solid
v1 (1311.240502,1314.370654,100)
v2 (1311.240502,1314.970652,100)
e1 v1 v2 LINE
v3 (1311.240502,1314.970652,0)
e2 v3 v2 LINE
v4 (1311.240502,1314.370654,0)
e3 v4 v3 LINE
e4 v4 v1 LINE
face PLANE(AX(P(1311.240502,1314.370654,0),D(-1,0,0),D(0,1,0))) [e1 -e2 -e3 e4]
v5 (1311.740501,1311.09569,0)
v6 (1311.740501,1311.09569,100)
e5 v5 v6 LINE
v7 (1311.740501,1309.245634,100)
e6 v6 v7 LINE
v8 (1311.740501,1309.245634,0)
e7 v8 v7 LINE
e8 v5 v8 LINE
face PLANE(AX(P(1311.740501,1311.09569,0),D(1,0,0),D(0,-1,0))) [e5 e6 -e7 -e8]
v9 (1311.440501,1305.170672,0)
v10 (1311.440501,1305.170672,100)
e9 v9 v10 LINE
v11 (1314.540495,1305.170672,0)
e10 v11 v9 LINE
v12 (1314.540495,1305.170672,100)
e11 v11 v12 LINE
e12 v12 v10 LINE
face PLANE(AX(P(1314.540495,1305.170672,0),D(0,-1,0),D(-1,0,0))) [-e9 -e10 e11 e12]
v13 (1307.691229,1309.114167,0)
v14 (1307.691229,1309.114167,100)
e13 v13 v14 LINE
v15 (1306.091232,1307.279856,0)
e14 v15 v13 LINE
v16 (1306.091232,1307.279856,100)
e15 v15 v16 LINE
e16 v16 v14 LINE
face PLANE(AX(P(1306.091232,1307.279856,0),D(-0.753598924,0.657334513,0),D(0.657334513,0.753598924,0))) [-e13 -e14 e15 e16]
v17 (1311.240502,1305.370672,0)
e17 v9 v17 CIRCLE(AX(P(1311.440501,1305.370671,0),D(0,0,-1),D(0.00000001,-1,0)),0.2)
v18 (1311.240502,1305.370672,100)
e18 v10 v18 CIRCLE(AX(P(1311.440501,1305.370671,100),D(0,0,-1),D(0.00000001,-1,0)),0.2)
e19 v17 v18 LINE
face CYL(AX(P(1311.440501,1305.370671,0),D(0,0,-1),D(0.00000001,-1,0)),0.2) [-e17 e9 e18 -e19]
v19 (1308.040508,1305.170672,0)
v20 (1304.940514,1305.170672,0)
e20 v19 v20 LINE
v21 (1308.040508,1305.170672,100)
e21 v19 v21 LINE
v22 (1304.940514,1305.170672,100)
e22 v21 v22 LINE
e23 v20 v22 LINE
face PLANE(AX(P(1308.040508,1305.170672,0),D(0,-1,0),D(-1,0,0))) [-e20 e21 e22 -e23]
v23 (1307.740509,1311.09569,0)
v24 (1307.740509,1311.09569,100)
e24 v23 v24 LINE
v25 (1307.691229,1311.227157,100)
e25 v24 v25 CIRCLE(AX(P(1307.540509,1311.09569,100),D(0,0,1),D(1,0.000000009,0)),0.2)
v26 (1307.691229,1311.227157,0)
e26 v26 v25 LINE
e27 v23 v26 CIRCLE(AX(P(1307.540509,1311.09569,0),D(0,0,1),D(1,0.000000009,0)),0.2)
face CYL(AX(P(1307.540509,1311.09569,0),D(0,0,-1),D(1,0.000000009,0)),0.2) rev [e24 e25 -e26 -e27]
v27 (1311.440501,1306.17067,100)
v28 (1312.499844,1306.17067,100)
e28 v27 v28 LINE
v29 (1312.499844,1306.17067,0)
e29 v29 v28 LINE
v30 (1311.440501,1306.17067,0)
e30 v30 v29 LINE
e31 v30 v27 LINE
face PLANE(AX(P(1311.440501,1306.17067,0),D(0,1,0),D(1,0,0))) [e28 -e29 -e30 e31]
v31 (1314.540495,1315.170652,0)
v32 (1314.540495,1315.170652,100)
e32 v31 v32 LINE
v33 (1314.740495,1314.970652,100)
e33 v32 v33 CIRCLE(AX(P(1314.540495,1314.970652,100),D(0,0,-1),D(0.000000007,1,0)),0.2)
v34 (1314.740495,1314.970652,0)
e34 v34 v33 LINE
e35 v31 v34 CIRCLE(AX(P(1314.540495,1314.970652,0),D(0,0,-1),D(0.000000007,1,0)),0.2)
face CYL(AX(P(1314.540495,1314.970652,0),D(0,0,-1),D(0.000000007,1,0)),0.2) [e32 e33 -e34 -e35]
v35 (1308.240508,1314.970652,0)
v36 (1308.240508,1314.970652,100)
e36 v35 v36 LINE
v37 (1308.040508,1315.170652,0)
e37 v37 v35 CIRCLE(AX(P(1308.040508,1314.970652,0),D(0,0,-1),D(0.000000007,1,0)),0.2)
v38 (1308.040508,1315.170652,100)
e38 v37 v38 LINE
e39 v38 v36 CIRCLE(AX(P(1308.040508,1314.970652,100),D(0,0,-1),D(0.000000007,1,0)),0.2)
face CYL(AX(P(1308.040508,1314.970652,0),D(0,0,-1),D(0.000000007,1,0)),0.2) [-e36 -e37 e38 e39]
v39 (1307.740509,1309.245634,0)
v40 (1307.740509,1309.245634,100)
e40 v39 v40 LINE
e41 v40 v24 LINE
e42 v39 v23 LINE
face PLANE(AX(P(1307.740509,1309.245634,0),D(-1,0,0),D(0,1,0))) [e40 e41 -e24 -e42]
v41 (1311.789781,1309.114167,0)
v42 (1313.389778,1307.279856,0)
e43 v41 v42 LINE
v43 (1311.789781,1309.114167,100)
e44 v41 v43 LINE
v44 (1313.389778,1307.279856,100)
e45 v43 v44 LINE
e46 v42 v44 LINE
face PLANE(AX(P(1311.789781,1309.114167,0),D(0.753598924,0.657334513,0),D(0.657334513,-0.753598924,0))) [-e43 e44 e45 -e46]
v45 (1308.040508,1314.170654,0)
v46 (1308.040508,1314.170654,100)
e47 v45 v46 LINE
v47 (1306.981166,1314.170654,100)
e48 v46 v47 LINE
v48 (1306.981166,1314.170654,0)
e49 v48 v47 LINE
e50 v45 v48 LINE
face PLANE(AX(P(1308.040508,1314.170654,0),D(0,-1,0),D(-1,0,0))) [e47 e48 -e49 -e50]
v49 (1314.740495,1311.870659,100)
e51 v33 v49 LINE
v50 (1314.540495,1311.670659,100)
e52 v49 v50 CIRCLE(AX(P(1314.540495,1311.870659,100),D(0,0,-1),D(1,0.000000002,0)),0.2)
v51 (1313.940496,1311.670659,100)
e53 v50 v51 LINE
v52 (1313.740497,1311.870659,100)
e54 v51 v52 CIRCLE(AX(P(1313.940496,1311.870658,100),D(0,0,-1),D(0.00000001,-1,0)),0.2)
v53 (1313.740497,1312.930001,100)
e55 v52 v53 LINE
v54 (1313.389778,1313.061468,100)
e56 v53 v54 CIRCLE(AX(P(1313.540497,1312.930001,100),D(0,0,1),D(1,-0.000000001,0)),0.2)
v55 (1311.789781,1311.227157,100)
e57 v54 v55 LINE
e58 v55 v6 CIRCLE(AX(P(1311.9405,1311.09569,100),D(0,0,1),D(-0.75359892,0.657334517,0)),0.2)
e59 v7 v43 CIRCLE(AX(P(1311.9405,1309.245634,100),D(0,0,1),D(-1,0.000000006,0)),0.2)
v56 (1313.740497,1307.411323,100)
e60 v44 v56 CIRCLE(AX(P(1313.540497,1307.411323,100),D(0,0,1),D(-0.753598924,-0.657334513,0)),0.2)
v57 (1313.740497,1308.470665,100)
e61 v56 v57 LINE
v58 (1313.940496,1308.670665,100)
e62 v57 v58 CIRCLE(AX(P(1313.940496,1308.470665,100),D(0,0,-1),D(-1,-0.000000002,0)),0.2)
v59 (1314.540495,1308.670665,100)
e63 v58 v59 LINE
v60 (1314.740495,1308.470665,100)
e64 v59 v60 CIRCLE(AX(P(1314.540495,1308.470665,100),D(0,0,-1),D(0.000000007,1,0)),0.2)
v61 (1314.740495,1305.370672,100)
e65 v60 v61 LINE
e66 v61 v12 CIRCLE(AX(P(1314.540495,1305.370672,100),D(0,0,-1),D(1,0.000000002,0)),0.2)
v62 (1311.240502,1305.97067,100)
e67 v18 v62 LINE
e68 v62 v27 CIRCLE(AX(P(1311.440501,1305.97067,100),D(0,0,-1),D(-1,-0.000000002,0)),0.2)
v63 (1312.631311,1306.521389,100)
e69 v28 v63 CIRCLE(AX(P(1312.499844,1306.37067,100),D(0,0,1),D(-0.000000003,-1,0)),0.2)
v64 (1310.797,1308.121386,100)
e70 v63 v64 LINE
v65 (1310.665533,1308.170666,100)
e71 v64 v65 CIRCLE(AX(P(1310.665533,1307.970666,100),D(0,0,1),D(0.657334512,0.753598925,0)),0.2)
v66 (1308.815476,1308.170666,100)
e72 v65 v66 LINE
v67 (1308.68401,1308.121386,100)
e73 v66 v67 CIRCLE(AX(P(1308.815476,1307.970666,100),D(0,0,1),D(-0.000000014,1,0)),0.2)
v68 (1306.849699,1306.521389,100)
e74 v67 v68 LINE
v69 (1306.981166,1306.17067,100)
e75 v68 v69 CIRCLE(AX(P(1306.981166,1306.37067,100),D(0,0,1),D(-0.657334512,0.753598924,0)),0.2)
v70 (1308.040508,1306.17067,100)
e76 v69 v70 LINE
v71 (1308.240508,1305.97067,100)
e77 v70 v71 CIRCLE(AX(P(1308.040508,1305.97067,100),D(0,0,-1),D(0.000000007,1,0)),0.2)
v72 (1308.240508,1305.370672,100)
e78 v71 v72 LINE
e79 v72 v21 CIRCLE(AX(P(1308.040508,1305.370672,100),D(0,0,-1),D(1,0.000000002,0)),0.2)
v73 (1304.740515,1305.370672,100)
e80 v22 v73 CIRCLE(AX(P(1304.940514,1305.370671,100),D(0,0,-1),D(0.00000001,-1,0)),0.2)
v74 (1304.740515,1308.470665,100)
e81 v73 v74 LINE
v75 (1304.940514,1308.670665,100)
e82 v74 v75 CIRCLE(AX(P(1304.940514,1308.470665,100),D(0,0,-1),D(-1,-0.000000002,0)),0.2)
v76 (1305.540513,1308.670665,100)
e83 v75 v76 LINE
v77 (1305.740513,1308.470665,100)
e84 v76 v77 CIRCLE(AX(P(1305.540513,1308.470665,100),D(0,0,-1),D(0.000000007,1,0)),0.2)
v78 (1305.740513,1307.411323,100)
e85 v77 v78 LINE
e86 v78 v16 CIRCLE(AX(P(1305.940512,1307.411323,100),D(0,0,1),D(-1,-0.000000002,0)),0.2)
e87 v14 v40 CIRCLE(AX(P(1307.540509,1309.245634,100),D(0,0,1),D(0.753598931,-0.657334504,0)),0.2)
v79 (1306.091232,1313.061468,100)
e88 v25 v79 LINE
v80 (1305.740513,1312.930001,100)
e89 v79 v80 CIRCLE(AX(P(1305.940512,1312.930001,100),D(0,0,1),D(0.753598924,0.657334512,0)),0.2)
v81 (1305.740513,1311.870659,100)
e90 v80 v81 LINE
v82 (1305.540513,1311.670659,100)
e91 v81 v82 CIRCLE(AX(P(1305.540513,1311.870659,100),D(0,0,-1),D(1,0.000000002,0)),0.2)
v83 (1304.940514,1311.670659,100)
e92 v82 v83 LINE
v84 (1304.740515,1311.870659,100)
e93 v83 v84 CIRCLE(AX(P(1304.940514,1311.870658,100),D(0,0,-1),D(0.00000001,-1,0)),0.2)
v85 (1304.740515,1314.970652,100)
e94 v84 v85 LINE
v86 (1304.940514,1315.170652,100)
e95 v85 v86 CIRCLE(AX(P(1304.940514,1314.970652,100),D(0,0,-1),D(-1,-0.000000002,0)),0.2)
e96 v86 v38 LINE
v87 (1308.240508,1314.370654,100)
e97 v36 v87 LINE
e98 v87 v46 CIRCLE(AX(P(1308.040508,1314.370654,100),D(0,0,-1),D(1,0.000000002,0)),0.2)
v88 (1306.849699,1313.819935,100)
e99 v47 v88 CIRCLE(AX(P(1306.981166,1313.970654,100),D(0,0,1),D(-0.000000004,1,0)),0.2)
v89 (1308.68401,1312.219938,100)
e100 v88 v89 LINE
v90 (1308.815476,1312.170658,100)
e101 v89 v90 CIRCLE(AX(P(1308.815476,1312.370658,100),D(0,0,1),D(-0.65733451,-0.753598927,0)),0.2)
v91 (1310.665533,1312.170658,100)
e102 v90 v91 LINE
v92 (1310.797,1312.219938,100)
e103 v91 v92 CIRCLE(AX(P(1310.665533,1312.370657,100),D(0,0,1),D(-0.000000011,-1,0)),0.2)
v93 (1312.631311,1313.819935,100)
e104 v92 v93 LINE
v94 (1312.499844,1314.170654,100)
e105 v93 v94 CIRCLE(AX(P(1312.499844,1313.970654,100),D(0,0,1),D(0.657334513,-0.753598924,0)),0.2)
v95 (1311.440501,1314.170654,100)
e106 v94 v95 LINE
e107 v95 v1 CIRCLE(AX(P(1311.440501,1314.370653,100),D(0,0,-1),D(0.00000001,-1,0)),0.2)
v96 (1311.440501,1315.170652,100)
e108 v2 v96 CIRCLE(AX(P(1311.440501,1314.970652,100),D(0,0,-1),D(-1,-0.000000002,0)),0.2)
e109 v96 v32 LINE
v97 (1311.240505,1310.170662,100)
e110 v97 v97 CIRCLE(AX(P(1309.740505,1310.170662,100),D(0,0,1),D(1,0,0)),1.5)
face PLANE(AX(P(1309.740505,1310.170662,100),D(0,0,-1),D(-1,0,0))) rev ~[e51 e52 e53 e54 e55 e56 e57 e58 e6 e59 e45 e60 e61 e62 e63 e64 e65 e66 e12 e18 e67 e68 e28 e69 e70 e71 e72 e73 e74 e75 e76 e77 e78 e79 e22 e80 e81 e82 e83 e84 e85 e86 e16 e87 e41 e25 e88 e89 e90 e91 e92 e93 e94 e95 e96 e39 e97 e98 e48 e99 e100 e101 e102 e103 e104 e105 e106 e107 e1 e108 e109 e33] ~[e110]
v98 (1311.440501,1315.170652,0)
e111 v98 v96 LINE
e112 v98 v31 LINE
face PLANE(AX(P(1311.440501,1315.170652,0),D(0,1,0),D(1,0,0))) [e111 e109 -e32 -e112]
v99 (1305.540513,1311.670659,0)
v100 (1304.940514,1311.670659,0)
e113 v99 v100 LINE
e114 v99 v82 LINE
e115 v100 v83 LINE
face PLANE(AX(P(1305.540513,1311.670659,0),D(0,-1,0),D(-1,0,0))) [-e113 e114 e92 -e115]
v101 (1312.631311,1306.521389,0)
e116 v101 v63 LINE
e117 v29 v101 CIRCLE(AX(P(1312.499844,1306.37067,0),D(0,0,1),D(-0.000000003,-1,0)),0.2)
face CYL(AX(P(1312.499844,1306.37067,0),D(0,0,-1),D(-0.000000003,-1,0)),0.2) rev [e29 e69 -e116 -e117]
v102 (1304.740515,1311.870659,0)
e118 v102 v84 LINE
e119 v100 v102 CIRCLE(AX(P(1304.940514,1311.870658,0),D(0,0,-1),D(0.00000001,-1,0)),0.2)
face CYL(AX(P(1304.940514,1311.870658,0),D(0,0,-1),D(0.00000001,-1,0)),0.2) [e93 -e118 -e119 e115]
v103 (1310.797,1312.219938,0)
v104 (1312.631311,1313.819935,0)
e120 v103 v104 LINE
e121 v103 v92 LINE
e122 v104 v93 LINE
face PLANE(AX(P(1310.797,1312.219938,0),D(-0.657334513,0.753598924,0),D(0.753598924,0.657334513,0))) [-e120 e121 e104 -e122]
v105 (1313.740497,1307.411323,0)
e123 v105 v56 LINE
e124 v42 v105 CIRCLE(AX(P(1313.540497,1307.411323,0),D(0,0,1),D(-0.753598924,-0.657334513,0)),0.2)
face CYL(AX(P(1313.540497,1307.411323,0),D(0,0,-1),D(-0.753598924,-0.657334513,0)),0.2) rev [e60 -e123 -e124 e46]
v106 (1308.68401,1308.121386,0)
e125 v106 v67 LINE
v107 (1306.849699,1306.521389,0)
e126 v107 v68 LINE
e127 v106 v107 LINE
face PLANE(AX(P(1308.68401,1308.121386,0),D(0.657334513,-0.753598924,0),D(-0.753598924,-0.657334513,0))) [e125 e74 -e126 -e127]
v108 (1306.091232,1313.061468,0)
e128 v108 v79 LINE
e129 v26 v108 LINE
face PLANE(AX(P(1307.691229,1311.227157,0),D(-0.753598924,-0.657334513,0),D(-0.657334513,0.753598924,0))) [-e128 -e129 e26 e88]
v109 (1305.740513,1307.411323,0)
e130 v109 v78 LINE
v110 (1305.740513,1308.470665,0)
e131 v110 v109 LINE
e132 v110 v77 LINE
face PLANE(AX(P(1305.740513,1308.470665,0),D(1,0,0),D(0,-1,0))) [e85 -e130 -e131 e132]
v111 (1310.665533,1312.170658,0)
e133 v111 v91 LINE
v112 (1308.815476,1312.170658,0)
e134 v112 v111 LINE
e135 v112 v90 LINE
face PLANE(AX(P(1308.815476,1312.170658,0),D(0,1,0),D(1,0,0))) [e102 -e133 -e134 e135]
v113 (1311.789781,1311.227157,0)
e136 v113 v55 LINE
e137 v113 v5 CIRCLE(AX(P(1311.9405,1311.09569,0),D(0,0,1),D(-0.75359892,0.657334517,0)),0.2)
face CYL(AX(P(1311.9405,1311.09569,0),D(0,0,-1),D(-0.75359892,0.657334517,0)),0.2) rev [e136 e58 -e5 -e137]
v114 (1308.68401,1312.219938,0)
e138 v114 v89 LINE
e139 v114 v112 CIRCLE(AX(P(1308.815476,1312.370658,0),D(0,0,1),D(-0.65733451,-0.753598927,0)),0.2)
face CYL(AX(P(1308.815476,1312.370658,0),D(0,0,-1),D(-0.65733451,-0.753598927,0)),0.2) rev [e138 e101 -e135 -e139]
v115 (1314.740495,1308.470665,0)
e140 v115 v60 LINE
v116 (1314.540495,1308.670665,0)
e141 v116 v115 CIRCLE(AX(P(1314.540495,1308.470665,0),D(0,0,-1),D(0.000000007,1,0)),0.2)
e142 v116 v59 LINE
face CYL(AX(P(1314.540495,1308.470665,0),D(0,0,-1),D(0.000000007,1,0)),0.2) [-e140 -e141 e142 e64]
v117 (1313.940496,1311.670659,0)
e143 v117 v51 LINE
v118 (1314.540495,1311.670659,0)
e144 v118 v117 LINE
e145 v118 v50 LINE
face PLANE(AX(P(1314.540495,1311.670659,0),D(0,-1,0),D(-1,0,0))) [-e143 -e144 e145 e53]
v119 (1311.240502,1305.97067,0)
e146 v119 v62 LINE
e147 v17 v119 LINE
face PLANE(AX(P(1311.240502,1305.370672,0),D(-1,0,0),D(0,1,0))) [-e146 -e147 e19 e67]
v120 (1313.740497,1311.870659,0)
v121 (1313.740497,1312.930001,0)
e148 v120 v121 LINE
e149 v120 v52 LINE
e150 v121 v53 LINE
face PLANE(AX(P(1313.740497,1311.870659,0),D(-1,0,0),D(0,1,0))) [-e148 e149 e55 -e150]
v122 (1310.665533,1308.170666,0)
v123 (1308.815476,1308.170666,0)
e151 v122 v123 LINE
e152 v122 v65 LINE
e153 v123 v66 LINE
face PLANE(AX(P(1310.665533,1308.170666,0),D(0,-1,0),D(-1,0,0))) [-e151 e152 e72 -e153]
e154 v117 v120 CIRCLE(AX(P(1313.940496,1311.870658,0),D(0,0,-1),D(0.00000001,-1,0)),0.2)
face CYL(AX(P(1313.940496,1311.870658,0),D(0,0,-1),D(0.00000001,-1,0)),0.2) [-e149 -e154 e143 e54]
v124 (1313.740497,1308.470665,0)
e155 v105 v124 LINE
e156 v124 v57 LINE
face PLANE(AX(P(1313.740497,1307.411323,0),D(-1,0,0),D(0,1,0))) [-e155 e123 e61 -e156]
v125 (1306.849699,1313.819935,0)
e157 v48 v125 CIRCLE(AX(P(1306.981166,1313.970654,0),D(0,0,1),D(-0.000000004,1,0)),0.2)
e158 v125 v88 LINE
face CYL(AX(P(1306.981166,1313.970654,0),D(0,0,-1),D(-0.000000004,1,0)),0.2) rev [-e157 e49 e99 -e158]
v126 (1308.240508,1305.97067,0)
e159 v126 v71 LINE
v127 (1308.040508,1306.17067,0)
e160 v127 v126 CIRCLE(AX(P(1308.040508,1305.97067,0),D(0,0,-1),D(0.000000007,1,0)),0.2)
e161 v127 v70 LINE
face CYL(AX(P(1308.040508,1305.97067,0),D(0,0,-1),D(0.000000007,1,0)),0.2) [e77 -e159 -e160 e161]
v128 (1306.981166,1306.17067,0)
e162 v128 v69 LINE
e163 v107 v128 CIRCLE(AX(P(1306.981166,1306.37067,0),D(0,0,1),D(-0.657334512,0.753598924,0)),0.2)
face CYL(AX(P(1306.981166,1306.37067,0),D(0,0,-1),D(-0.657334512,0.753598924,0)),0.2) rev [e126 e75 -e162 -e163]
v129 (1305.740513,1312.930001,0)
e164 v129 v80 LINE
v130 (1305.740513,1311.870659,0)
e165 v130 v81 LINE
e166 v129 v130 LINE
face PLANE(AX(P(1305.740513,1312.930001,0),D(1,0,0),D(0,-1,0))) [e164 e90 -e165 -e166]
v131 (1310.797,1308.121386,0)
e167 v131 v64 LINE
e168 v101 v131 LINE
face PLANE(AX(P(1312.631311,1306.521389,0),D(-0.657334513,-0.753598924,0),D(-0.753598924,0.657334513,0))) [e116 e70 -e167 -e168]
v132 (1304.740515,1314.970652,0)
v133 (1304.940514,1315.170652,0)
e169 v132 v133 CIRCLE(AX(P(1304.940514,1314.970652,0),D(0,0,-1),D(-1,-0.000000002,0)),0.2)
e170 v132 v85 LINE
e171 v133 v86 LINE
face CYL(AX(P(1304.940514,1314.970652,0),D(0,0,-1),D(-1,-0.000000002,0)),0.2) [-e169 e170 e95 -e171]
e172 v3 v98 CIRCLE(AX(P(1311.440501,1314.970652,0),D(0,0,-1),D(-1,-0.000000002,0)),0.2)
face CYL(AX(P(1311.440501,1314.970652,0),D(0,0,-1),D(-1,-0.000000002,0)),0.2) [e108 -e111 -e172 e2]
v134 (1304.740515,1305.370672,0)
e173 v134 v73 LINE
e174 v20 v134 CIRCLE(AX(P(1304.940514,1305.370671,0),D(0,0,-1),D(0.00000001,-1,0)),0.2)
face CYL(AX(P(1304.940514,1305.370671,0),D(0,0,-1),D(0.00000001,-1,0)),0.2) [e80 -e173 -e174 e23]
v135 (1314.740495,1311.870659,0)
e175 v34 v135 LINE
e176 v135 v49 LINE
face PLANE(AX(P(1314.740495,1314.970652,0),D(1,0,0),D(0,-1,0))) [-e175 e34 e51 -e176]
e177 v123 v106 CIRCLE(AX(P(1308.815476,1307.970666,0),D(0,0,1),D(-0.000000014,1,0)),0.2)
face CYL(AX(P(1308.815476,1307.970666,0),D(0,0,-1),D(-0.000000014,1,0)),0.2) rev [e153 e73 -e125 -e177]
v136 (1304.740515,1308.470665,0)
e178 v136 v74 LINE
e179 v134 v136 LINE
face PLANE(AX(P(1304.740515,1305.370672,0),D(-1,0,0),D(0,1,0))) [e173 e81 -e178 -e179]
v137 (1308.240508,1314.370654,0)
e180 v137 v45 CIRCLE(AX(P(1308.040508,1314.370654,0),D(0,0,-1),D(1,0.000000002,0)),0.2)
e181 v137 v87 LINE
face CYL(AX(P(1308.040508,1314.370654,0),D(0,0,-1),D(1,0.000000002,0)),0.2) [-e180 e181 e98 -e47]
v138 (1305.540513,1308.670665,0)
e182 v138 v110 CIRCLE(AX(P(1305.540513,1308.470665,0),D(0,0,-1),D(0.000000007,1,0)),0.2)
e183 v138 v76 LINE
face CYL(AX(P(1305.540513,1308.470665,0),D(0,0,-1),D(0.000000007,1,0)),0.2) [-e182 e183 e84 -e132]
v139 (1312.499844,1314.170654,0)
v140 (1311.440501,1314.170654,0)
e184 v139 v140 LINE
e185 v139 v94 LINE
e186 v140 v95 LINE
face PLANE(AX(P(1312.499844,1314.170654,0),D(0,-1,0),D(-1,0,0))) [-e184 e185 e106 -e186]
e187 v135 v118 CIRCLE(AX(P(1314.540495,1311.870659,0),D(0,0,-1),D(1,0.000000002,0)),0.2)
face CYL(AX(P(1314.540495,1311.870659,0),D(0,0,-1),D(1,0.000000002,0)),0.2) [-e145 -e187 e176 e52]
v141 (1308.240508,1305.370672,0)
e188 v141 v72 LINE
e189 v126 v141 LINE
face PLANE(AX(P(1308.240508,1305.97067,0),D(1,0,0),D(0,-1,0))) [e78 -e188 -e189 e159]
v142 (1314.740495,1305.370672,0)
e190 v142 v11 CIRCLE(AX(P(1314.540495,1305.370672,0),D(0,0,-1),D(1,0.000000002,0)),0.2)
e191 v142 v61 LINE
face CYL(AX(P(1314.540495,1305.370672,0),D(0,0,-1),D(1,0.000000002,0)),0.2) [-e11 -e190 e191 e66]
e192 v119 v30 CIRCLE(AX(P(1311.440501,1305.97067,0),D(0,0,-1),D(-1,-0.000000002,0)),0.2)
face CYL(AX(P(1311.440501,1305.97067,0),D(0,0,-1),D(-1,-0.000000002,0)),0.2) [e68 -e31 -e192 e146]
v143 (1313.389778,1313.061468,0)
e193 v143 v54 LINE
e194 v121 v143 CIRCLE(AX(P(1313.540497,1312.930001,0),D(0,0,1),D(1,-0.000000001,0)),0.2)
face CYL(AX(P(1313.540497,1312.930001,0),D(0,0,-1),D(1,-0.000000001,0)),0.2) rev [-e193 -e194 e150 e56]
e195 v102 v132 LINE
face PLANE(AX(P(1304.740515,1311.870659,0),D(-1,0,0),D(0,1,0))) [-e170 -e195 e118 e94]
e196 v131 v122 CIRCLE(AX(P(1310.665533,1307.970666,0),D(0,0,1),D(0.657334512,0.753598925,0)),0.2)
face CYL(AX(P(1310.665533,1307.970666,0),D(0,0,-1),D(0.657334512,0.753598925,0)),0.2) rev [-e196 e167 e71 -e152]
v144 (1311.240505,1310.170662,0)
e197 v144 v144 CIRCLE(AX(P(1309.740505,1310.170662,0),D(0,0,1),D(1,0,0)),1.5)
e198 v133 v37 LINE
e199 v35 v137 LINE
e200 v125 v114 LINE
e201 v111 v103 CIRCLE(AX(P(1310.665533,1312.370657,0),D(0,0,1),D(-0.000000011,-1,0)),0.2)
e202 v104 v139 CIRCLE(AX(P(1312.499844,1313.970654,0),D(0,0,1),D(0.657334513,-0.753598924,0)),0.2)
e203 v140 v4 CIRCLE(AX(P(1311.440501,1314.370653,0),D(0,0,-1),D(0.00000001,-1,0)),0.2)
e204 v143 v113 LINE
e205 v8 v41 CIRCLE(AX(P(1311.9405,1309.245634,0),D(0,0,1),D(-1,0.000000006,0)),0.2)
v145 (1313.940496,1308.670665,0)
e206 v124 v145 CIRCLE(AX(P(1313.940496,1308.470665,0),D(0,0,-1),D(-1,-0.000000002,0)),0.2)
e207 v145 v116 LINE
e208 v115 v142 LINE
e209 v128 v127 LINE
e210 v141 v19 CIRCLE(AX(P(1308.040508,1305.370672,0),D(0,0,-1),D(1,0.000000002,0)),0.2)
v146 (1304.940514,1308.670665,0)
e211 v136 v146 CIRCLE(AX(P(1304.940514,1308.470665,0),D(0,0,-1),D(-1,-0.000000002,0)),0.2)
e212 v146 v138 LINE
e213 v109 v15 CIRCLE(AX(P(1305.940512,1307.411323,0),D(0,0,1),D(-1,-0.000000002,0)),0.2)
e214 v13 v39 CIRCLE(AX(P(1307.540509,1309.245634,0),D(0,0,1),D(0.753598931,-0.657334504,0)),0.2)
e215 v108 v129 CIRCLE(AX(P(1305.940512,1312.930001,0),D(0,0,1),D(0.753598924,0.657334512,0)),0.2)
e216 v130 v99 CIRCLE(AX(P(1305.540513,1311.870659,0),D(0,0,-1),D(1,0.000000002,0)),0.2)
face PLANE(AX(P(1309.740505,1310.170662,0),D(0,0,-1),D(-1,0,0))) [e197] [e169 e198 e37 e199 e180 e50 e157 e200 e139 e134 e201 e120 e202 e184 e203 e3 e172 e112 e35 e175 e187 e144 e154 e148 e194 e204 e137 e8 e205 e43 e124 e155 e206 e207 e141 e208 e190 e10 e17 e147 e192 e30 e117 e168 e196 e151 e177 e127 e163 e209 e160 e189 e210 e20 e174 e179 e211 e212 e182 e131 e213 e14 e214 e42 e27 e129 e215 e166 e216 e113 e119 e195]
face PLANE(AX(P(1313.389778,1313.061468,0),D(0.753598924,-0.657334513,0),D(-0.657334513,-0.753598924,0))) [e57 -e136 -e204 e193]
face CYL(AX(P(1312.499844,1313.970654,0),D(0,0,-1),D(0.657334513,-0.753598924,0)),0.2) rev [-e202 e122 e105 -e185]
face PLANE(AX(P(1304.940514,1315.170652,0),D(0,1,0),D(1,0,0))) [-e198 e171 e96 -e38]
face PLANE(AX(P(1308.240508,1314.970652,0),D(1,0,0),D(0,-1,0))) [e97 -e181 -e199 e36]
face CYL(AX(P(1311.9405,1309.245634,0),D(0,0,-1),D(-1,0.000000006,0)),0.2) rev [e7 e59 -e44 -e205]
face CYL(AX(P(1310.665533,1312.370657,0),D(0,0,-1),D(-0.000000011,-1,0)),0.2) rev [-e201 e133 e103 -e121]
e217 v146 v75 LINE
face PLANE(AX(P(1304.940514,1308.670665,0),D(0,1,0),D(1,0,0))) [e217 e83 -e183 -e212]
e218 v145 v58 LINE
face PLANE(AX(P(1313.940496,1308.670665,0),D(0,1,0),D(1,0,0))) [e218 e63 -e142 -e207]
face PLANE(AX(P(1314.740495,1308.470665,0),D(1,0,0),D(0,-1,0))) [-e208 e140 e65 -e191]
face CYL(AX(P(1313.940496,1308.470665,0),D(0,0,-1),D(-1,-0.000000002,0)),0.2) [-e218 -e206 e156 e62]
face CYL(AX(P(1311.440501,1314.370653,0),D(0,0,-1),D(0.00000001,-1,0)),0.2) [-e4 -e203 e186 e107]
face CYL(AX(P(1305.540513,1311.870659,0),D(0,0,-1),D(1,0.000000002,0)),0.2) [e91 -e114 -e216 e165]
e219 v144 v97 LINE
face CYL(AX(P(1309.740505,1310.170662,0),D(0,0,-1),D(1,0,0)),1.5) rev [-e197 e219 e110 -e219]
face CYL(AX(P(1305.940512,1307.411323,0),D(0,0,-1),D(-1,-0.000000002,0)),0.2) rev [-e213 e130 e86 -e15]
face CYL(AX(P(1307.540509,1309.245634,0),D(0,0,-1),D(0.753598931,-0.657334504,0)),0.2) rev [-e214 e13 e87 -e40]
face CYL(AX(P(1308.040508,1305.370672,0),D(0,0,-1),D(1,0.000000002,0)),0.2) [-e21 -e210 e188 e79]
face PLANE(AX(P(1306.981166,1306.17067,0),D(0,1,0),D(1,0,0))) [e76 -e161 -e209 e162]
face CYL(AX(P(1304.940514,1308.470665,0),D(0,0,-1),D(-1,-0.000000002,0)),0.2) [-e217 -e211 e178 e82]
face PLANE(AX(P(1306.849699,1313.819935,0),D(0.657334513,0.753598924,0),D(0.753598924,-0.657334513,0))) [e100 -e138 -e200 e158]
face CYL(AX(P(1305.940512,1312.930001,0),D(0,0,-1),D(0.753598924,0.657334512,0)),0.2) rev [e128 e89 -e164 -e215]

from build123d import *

# Parameters (mm, degrees)
MODEL_R             = 1.5
BOSS_EXTRUDE1_DEPTH = 100


with BuildPart() as part:
    # Model → Boss-Extrude1 (new body)
    with BuildSketch(Plane.XY):
        with BuildLine():
            Line((1314.74049485, 1308.470665301), (1314.74049485, 1305.370671501))
            ThreePointArc((1314.74049485, 1305.370671501), (1314.681916323, 1305.229250427), (1314.54049525, 1305.170671901))
            Line((1314.54049525, 1305.170671901), (1311.44050145, 1305.170671901))
            ThreePointArc((1311.44050145, 1305.170671901), (1311.299080376, 1305.229250427), (1311.24050185, 1305.370671501))
            Line((1311.24050185, 1305.370671501), (1311.24050185, 1305.970670301))
            ThreePointArc((1311.24050185, 1305.970670301), (1311.299080376, 1306.112091374), (1311.44050145, 1306.170669901))
            Line((1311.44050145, 1306.170669901), (1312.499844139, 1306.170669901))
            ThreePointArc((1312.499844139, 1306.170669901), (1312.687118906, 1306.300469773), (1312.631310779, 1306.521388984))
            Line((1312.631310779, 1306.521388984), (1310.796999872, 1308.121385784))
            ThreePointArc((1310.796999872, 1308.121385784), (1310.735732961, 1308.157941067), (1310.665533233, 1308.170665901))
            Line((1310.665533233, 1308.170665901), (1308.815476467, 1308.170665901))
            ThreePointArc((1308.815476467, 1308.170665901), (1308.745276739, 1308.157941067), (1308.684009827, 1308.121385784))
            Line((1308.684009827, 1308.121385784), (1306.849698921, 1306.521388984))
            ThreePointArc((1306.849698921, 1306.521388984), (1306.793890794, 1306.300469773), (1306.98116556, 1306.170669901))
            Line((1306.98116556, 1306.170669901), (1308.04050825, 1306.170669901))
            ThreePointArc((1308.04050825, 1306.170669901), (1308.181929323, 1306.112091374), (1308.24050785, 1305.970670301))
            Line((1308.24050785, 1305.970670301), (1308.24050785, 1305.370671501))
            ThreePointArc((1308.24050785, 1305.370671501), (1308.181929323, 1305.229250427), (1308.04050825, 1305.170671901))
            Line((1308.04050825, 1305.170671901), (1304.94051445, 1305.170671901))
            ThreePointArc((1304.94051445, 1305.170671901), (1304.799093376, 1305.229250427), (1304.74051485, 1305.370671501))
            Line((1304.74051485, 1305.370671501), (1304.74051485, 1308.470665301))
            ThreePointArc((1304.74051485, 1308.470665301), (1304.799093376, 1308.612086374), (1304.94051445, 1308.670664901))
            Line((1304.94051445, 1308.670664901), (1305.54051325, 1308.670664901))
            ThreePointArc((1305.54051325, 1308.670664901), (1305.681934323, 1308.612086374), (1305.74051285, 1308.470665301))
            Line((1305.74051285, 1308.470665301), (1305.74051285, 1307.411322611))
            ThreePointArc((1305.74051285, 1307.411322611), (1305.870312722, 1307.224047845), (1306.091231933, 1307.279855972))
            Line((1306.091231933, 1307.279855972), (1307.691228733, 1309.114166878))
            ThreePointArc((1307.691228733, 1309.114166878), (1307.727784016, 1309.17543379), (1307.74050885, 1309.245633518))
            Line((1307.74050885, 1309.245633518), (1307.74050885, 1311.095690284))
            ThreePointArc((1307.74050885, 1311.095690284), (1307.727784016, 1311.165890012), (1307.691228733, 1311.227156923))
            Line((1307.691228733, 1311.227156923), (1306.091231933, 1313.06146783))
            ThreePointArc((1306.091231933, 1313.06146783), (1305.870312722, 1313.117275957), (1305.74051285, 1312.93000119))
            Line((1305.74051285, 1312.93000119), (1305.74051285, 1311.870658501))
            ThreePointArc((1305.74051285, 1311.870658501), (1305.681934323, 1311.729237427), (1305.54051325, 1311.670658901))
            Line((1305.54051325, 1311.670658901), (1304.94051445, 1311.670658901))
            ThreePointArc((1304.94051445, 1311.670658901), (1304.799093376, 1311.729237427), (1304.74051485, 1311.870658501))
            Line((1304.74051485, 1311.870658501), (1304.74051485, 1314.970652301))
            ThreePointArc((1304.74051485, 1314.970652301), (1304.799093376, 1315.112073374), (1304.94051445, 1315.170651901))
            Line((1304.94051445, 1315.170651901), (1308.04050825, 1315.170651901))
            ThreePointArc((1308.04050825, 1315.170651901), (1308.181929323, 1315.112073374), (1308.24050785, 1314.970652301))
            Line((1308.24050785, 1314.970652301), (1308.24050785, 1314.370653501))
            ThreePointArc((1308.24050785, 1314.370653501), (1308.181929323, 1314.229232427), (1308.04050825, 1314.170653901))
            Line((1308.04050825, 1314.170653901), (1306.98116556, 1314.170653901))
            ThreePointArc((1306.98116556, 1314.170653901), (1306.793890794, 1314.040854029), (1306.849698921, 1313.819934817))
            Line((1306.849698921, 1313.819934817), (1308.684009827, 1312.219938017))
            ThreePointArc((1308.684009827, 1312.219938017), (1308.745276739, 1312.183382734), (1308.815476467, 1312.170657901))
            Line((1308.815476467, 1312.170657901), (1310.665533233, 1312.170657901))
            ThreePointArc((1310.665533233, 1312.170657901), (1310.735732961, 1312.183382734), (1310.796999872, 1312.219938017))
            Line((1310.796999872, 1312.219938017), (1312.631310779, 1313.819934817))
            ThreePointArc((1312.631310779, 1313.819934817), (1312.687118906, 1314.040854029), (1312.499844139, 1314.170653901))
            Line((1312.499844139, 1314.170653901), (1311.44050145, 1314.170653901))
            ThreePointArc((1311.44050145, 1314.170653901), (1311.299080376, 1314.229232427), (1311.24050185, 1314.370653501))
            Line((1311.24050185, 1314.370653501), (1311.24050185, 1314.970652301))
            ThreePointArc((1311.24050185, 1314.970652301), (1311.299080376, 1315.112073374), (1311.44050145, 1315.170651901))
            Line((1311.44050145, 1315.170651901), (1314.54049525, 1315.170651901))
            ThreePointArc((1314.54049525, 1315.170651901), (1314.681916323, 1315.112073374), (1314.74049485, 1314.970652301))
            Line((1314.74049485, 1314.970652301), (1314.74049485, 1311.870658501))
            ThreePointArc((1314.74049485, 1311.870658501), (1314.681916323, 1311.729237427), (1314.54049525, 1311.670658901))
            Line((1314.54049525, 1311.670658901), (1313.94049645, 1311.670658901))
            ThreePointArc((1313.94049645, 1311.670658901), (1313.799075376, 1311.729237427), (1313.74049685, 1311.870658501))
            Line((1313.74049685, 1311.870658501), (1313.74049685, 1312.93000119))
            ThreePointArc((1313.74049685, 1312.93000119), (1313.610696978, 1313.117275957), (1313.389777766, 1313.06146783))
            Line((1313.389777766, 1313.06146783), (1311.789780966, 1311.227156923))
            ThreePointArc((1311.789780966, 1311.227156923), (1311.753225683, 1311.165890012), (1311.74050085, 1311.095690284))
            Line((1311.74050085, 1311.095690284), (1311.74050085, 1309.245633518))
            ThreePointArc((1311.74050085, 1309.245633518), (1311.753225683, 1309.17543379), (1311.789780966, 1309.114166878))
            Line((1311.789780966, 1309.114166878), (1313.389777766, 1307.279855972))
            ThreePointArc((1313.389777766, 1307.279855972), (1313.610696978, 1307.224047845), (1313.74049685, 1307.411322611))
            Line((1313.74049685, 1307.411322611), (1313.74049685, 1308.470665301))
            ThreePointArc((1313.74049685, 1308.470665301), (1313.799075376, 1308.612086374), (1313.94049645, 1308.670664901))
            Line((1313.94049645, 1308.670664901), (1314.54049525, 1308.670664901))
            ThreePointArc((1314.54049525, 1308.670664901), (1314.681916323, 1308.612086374), (1314.74049485, 1308.470665301))
        make_face()
        with Locations((1309.74050485, 1310.170661901)):
            Circle(MODEL_R, mode=Mode.SUBTRACT)
    extrude(amount=BOSS_EXTRUDE1_DEPTH)


solid = part.part
